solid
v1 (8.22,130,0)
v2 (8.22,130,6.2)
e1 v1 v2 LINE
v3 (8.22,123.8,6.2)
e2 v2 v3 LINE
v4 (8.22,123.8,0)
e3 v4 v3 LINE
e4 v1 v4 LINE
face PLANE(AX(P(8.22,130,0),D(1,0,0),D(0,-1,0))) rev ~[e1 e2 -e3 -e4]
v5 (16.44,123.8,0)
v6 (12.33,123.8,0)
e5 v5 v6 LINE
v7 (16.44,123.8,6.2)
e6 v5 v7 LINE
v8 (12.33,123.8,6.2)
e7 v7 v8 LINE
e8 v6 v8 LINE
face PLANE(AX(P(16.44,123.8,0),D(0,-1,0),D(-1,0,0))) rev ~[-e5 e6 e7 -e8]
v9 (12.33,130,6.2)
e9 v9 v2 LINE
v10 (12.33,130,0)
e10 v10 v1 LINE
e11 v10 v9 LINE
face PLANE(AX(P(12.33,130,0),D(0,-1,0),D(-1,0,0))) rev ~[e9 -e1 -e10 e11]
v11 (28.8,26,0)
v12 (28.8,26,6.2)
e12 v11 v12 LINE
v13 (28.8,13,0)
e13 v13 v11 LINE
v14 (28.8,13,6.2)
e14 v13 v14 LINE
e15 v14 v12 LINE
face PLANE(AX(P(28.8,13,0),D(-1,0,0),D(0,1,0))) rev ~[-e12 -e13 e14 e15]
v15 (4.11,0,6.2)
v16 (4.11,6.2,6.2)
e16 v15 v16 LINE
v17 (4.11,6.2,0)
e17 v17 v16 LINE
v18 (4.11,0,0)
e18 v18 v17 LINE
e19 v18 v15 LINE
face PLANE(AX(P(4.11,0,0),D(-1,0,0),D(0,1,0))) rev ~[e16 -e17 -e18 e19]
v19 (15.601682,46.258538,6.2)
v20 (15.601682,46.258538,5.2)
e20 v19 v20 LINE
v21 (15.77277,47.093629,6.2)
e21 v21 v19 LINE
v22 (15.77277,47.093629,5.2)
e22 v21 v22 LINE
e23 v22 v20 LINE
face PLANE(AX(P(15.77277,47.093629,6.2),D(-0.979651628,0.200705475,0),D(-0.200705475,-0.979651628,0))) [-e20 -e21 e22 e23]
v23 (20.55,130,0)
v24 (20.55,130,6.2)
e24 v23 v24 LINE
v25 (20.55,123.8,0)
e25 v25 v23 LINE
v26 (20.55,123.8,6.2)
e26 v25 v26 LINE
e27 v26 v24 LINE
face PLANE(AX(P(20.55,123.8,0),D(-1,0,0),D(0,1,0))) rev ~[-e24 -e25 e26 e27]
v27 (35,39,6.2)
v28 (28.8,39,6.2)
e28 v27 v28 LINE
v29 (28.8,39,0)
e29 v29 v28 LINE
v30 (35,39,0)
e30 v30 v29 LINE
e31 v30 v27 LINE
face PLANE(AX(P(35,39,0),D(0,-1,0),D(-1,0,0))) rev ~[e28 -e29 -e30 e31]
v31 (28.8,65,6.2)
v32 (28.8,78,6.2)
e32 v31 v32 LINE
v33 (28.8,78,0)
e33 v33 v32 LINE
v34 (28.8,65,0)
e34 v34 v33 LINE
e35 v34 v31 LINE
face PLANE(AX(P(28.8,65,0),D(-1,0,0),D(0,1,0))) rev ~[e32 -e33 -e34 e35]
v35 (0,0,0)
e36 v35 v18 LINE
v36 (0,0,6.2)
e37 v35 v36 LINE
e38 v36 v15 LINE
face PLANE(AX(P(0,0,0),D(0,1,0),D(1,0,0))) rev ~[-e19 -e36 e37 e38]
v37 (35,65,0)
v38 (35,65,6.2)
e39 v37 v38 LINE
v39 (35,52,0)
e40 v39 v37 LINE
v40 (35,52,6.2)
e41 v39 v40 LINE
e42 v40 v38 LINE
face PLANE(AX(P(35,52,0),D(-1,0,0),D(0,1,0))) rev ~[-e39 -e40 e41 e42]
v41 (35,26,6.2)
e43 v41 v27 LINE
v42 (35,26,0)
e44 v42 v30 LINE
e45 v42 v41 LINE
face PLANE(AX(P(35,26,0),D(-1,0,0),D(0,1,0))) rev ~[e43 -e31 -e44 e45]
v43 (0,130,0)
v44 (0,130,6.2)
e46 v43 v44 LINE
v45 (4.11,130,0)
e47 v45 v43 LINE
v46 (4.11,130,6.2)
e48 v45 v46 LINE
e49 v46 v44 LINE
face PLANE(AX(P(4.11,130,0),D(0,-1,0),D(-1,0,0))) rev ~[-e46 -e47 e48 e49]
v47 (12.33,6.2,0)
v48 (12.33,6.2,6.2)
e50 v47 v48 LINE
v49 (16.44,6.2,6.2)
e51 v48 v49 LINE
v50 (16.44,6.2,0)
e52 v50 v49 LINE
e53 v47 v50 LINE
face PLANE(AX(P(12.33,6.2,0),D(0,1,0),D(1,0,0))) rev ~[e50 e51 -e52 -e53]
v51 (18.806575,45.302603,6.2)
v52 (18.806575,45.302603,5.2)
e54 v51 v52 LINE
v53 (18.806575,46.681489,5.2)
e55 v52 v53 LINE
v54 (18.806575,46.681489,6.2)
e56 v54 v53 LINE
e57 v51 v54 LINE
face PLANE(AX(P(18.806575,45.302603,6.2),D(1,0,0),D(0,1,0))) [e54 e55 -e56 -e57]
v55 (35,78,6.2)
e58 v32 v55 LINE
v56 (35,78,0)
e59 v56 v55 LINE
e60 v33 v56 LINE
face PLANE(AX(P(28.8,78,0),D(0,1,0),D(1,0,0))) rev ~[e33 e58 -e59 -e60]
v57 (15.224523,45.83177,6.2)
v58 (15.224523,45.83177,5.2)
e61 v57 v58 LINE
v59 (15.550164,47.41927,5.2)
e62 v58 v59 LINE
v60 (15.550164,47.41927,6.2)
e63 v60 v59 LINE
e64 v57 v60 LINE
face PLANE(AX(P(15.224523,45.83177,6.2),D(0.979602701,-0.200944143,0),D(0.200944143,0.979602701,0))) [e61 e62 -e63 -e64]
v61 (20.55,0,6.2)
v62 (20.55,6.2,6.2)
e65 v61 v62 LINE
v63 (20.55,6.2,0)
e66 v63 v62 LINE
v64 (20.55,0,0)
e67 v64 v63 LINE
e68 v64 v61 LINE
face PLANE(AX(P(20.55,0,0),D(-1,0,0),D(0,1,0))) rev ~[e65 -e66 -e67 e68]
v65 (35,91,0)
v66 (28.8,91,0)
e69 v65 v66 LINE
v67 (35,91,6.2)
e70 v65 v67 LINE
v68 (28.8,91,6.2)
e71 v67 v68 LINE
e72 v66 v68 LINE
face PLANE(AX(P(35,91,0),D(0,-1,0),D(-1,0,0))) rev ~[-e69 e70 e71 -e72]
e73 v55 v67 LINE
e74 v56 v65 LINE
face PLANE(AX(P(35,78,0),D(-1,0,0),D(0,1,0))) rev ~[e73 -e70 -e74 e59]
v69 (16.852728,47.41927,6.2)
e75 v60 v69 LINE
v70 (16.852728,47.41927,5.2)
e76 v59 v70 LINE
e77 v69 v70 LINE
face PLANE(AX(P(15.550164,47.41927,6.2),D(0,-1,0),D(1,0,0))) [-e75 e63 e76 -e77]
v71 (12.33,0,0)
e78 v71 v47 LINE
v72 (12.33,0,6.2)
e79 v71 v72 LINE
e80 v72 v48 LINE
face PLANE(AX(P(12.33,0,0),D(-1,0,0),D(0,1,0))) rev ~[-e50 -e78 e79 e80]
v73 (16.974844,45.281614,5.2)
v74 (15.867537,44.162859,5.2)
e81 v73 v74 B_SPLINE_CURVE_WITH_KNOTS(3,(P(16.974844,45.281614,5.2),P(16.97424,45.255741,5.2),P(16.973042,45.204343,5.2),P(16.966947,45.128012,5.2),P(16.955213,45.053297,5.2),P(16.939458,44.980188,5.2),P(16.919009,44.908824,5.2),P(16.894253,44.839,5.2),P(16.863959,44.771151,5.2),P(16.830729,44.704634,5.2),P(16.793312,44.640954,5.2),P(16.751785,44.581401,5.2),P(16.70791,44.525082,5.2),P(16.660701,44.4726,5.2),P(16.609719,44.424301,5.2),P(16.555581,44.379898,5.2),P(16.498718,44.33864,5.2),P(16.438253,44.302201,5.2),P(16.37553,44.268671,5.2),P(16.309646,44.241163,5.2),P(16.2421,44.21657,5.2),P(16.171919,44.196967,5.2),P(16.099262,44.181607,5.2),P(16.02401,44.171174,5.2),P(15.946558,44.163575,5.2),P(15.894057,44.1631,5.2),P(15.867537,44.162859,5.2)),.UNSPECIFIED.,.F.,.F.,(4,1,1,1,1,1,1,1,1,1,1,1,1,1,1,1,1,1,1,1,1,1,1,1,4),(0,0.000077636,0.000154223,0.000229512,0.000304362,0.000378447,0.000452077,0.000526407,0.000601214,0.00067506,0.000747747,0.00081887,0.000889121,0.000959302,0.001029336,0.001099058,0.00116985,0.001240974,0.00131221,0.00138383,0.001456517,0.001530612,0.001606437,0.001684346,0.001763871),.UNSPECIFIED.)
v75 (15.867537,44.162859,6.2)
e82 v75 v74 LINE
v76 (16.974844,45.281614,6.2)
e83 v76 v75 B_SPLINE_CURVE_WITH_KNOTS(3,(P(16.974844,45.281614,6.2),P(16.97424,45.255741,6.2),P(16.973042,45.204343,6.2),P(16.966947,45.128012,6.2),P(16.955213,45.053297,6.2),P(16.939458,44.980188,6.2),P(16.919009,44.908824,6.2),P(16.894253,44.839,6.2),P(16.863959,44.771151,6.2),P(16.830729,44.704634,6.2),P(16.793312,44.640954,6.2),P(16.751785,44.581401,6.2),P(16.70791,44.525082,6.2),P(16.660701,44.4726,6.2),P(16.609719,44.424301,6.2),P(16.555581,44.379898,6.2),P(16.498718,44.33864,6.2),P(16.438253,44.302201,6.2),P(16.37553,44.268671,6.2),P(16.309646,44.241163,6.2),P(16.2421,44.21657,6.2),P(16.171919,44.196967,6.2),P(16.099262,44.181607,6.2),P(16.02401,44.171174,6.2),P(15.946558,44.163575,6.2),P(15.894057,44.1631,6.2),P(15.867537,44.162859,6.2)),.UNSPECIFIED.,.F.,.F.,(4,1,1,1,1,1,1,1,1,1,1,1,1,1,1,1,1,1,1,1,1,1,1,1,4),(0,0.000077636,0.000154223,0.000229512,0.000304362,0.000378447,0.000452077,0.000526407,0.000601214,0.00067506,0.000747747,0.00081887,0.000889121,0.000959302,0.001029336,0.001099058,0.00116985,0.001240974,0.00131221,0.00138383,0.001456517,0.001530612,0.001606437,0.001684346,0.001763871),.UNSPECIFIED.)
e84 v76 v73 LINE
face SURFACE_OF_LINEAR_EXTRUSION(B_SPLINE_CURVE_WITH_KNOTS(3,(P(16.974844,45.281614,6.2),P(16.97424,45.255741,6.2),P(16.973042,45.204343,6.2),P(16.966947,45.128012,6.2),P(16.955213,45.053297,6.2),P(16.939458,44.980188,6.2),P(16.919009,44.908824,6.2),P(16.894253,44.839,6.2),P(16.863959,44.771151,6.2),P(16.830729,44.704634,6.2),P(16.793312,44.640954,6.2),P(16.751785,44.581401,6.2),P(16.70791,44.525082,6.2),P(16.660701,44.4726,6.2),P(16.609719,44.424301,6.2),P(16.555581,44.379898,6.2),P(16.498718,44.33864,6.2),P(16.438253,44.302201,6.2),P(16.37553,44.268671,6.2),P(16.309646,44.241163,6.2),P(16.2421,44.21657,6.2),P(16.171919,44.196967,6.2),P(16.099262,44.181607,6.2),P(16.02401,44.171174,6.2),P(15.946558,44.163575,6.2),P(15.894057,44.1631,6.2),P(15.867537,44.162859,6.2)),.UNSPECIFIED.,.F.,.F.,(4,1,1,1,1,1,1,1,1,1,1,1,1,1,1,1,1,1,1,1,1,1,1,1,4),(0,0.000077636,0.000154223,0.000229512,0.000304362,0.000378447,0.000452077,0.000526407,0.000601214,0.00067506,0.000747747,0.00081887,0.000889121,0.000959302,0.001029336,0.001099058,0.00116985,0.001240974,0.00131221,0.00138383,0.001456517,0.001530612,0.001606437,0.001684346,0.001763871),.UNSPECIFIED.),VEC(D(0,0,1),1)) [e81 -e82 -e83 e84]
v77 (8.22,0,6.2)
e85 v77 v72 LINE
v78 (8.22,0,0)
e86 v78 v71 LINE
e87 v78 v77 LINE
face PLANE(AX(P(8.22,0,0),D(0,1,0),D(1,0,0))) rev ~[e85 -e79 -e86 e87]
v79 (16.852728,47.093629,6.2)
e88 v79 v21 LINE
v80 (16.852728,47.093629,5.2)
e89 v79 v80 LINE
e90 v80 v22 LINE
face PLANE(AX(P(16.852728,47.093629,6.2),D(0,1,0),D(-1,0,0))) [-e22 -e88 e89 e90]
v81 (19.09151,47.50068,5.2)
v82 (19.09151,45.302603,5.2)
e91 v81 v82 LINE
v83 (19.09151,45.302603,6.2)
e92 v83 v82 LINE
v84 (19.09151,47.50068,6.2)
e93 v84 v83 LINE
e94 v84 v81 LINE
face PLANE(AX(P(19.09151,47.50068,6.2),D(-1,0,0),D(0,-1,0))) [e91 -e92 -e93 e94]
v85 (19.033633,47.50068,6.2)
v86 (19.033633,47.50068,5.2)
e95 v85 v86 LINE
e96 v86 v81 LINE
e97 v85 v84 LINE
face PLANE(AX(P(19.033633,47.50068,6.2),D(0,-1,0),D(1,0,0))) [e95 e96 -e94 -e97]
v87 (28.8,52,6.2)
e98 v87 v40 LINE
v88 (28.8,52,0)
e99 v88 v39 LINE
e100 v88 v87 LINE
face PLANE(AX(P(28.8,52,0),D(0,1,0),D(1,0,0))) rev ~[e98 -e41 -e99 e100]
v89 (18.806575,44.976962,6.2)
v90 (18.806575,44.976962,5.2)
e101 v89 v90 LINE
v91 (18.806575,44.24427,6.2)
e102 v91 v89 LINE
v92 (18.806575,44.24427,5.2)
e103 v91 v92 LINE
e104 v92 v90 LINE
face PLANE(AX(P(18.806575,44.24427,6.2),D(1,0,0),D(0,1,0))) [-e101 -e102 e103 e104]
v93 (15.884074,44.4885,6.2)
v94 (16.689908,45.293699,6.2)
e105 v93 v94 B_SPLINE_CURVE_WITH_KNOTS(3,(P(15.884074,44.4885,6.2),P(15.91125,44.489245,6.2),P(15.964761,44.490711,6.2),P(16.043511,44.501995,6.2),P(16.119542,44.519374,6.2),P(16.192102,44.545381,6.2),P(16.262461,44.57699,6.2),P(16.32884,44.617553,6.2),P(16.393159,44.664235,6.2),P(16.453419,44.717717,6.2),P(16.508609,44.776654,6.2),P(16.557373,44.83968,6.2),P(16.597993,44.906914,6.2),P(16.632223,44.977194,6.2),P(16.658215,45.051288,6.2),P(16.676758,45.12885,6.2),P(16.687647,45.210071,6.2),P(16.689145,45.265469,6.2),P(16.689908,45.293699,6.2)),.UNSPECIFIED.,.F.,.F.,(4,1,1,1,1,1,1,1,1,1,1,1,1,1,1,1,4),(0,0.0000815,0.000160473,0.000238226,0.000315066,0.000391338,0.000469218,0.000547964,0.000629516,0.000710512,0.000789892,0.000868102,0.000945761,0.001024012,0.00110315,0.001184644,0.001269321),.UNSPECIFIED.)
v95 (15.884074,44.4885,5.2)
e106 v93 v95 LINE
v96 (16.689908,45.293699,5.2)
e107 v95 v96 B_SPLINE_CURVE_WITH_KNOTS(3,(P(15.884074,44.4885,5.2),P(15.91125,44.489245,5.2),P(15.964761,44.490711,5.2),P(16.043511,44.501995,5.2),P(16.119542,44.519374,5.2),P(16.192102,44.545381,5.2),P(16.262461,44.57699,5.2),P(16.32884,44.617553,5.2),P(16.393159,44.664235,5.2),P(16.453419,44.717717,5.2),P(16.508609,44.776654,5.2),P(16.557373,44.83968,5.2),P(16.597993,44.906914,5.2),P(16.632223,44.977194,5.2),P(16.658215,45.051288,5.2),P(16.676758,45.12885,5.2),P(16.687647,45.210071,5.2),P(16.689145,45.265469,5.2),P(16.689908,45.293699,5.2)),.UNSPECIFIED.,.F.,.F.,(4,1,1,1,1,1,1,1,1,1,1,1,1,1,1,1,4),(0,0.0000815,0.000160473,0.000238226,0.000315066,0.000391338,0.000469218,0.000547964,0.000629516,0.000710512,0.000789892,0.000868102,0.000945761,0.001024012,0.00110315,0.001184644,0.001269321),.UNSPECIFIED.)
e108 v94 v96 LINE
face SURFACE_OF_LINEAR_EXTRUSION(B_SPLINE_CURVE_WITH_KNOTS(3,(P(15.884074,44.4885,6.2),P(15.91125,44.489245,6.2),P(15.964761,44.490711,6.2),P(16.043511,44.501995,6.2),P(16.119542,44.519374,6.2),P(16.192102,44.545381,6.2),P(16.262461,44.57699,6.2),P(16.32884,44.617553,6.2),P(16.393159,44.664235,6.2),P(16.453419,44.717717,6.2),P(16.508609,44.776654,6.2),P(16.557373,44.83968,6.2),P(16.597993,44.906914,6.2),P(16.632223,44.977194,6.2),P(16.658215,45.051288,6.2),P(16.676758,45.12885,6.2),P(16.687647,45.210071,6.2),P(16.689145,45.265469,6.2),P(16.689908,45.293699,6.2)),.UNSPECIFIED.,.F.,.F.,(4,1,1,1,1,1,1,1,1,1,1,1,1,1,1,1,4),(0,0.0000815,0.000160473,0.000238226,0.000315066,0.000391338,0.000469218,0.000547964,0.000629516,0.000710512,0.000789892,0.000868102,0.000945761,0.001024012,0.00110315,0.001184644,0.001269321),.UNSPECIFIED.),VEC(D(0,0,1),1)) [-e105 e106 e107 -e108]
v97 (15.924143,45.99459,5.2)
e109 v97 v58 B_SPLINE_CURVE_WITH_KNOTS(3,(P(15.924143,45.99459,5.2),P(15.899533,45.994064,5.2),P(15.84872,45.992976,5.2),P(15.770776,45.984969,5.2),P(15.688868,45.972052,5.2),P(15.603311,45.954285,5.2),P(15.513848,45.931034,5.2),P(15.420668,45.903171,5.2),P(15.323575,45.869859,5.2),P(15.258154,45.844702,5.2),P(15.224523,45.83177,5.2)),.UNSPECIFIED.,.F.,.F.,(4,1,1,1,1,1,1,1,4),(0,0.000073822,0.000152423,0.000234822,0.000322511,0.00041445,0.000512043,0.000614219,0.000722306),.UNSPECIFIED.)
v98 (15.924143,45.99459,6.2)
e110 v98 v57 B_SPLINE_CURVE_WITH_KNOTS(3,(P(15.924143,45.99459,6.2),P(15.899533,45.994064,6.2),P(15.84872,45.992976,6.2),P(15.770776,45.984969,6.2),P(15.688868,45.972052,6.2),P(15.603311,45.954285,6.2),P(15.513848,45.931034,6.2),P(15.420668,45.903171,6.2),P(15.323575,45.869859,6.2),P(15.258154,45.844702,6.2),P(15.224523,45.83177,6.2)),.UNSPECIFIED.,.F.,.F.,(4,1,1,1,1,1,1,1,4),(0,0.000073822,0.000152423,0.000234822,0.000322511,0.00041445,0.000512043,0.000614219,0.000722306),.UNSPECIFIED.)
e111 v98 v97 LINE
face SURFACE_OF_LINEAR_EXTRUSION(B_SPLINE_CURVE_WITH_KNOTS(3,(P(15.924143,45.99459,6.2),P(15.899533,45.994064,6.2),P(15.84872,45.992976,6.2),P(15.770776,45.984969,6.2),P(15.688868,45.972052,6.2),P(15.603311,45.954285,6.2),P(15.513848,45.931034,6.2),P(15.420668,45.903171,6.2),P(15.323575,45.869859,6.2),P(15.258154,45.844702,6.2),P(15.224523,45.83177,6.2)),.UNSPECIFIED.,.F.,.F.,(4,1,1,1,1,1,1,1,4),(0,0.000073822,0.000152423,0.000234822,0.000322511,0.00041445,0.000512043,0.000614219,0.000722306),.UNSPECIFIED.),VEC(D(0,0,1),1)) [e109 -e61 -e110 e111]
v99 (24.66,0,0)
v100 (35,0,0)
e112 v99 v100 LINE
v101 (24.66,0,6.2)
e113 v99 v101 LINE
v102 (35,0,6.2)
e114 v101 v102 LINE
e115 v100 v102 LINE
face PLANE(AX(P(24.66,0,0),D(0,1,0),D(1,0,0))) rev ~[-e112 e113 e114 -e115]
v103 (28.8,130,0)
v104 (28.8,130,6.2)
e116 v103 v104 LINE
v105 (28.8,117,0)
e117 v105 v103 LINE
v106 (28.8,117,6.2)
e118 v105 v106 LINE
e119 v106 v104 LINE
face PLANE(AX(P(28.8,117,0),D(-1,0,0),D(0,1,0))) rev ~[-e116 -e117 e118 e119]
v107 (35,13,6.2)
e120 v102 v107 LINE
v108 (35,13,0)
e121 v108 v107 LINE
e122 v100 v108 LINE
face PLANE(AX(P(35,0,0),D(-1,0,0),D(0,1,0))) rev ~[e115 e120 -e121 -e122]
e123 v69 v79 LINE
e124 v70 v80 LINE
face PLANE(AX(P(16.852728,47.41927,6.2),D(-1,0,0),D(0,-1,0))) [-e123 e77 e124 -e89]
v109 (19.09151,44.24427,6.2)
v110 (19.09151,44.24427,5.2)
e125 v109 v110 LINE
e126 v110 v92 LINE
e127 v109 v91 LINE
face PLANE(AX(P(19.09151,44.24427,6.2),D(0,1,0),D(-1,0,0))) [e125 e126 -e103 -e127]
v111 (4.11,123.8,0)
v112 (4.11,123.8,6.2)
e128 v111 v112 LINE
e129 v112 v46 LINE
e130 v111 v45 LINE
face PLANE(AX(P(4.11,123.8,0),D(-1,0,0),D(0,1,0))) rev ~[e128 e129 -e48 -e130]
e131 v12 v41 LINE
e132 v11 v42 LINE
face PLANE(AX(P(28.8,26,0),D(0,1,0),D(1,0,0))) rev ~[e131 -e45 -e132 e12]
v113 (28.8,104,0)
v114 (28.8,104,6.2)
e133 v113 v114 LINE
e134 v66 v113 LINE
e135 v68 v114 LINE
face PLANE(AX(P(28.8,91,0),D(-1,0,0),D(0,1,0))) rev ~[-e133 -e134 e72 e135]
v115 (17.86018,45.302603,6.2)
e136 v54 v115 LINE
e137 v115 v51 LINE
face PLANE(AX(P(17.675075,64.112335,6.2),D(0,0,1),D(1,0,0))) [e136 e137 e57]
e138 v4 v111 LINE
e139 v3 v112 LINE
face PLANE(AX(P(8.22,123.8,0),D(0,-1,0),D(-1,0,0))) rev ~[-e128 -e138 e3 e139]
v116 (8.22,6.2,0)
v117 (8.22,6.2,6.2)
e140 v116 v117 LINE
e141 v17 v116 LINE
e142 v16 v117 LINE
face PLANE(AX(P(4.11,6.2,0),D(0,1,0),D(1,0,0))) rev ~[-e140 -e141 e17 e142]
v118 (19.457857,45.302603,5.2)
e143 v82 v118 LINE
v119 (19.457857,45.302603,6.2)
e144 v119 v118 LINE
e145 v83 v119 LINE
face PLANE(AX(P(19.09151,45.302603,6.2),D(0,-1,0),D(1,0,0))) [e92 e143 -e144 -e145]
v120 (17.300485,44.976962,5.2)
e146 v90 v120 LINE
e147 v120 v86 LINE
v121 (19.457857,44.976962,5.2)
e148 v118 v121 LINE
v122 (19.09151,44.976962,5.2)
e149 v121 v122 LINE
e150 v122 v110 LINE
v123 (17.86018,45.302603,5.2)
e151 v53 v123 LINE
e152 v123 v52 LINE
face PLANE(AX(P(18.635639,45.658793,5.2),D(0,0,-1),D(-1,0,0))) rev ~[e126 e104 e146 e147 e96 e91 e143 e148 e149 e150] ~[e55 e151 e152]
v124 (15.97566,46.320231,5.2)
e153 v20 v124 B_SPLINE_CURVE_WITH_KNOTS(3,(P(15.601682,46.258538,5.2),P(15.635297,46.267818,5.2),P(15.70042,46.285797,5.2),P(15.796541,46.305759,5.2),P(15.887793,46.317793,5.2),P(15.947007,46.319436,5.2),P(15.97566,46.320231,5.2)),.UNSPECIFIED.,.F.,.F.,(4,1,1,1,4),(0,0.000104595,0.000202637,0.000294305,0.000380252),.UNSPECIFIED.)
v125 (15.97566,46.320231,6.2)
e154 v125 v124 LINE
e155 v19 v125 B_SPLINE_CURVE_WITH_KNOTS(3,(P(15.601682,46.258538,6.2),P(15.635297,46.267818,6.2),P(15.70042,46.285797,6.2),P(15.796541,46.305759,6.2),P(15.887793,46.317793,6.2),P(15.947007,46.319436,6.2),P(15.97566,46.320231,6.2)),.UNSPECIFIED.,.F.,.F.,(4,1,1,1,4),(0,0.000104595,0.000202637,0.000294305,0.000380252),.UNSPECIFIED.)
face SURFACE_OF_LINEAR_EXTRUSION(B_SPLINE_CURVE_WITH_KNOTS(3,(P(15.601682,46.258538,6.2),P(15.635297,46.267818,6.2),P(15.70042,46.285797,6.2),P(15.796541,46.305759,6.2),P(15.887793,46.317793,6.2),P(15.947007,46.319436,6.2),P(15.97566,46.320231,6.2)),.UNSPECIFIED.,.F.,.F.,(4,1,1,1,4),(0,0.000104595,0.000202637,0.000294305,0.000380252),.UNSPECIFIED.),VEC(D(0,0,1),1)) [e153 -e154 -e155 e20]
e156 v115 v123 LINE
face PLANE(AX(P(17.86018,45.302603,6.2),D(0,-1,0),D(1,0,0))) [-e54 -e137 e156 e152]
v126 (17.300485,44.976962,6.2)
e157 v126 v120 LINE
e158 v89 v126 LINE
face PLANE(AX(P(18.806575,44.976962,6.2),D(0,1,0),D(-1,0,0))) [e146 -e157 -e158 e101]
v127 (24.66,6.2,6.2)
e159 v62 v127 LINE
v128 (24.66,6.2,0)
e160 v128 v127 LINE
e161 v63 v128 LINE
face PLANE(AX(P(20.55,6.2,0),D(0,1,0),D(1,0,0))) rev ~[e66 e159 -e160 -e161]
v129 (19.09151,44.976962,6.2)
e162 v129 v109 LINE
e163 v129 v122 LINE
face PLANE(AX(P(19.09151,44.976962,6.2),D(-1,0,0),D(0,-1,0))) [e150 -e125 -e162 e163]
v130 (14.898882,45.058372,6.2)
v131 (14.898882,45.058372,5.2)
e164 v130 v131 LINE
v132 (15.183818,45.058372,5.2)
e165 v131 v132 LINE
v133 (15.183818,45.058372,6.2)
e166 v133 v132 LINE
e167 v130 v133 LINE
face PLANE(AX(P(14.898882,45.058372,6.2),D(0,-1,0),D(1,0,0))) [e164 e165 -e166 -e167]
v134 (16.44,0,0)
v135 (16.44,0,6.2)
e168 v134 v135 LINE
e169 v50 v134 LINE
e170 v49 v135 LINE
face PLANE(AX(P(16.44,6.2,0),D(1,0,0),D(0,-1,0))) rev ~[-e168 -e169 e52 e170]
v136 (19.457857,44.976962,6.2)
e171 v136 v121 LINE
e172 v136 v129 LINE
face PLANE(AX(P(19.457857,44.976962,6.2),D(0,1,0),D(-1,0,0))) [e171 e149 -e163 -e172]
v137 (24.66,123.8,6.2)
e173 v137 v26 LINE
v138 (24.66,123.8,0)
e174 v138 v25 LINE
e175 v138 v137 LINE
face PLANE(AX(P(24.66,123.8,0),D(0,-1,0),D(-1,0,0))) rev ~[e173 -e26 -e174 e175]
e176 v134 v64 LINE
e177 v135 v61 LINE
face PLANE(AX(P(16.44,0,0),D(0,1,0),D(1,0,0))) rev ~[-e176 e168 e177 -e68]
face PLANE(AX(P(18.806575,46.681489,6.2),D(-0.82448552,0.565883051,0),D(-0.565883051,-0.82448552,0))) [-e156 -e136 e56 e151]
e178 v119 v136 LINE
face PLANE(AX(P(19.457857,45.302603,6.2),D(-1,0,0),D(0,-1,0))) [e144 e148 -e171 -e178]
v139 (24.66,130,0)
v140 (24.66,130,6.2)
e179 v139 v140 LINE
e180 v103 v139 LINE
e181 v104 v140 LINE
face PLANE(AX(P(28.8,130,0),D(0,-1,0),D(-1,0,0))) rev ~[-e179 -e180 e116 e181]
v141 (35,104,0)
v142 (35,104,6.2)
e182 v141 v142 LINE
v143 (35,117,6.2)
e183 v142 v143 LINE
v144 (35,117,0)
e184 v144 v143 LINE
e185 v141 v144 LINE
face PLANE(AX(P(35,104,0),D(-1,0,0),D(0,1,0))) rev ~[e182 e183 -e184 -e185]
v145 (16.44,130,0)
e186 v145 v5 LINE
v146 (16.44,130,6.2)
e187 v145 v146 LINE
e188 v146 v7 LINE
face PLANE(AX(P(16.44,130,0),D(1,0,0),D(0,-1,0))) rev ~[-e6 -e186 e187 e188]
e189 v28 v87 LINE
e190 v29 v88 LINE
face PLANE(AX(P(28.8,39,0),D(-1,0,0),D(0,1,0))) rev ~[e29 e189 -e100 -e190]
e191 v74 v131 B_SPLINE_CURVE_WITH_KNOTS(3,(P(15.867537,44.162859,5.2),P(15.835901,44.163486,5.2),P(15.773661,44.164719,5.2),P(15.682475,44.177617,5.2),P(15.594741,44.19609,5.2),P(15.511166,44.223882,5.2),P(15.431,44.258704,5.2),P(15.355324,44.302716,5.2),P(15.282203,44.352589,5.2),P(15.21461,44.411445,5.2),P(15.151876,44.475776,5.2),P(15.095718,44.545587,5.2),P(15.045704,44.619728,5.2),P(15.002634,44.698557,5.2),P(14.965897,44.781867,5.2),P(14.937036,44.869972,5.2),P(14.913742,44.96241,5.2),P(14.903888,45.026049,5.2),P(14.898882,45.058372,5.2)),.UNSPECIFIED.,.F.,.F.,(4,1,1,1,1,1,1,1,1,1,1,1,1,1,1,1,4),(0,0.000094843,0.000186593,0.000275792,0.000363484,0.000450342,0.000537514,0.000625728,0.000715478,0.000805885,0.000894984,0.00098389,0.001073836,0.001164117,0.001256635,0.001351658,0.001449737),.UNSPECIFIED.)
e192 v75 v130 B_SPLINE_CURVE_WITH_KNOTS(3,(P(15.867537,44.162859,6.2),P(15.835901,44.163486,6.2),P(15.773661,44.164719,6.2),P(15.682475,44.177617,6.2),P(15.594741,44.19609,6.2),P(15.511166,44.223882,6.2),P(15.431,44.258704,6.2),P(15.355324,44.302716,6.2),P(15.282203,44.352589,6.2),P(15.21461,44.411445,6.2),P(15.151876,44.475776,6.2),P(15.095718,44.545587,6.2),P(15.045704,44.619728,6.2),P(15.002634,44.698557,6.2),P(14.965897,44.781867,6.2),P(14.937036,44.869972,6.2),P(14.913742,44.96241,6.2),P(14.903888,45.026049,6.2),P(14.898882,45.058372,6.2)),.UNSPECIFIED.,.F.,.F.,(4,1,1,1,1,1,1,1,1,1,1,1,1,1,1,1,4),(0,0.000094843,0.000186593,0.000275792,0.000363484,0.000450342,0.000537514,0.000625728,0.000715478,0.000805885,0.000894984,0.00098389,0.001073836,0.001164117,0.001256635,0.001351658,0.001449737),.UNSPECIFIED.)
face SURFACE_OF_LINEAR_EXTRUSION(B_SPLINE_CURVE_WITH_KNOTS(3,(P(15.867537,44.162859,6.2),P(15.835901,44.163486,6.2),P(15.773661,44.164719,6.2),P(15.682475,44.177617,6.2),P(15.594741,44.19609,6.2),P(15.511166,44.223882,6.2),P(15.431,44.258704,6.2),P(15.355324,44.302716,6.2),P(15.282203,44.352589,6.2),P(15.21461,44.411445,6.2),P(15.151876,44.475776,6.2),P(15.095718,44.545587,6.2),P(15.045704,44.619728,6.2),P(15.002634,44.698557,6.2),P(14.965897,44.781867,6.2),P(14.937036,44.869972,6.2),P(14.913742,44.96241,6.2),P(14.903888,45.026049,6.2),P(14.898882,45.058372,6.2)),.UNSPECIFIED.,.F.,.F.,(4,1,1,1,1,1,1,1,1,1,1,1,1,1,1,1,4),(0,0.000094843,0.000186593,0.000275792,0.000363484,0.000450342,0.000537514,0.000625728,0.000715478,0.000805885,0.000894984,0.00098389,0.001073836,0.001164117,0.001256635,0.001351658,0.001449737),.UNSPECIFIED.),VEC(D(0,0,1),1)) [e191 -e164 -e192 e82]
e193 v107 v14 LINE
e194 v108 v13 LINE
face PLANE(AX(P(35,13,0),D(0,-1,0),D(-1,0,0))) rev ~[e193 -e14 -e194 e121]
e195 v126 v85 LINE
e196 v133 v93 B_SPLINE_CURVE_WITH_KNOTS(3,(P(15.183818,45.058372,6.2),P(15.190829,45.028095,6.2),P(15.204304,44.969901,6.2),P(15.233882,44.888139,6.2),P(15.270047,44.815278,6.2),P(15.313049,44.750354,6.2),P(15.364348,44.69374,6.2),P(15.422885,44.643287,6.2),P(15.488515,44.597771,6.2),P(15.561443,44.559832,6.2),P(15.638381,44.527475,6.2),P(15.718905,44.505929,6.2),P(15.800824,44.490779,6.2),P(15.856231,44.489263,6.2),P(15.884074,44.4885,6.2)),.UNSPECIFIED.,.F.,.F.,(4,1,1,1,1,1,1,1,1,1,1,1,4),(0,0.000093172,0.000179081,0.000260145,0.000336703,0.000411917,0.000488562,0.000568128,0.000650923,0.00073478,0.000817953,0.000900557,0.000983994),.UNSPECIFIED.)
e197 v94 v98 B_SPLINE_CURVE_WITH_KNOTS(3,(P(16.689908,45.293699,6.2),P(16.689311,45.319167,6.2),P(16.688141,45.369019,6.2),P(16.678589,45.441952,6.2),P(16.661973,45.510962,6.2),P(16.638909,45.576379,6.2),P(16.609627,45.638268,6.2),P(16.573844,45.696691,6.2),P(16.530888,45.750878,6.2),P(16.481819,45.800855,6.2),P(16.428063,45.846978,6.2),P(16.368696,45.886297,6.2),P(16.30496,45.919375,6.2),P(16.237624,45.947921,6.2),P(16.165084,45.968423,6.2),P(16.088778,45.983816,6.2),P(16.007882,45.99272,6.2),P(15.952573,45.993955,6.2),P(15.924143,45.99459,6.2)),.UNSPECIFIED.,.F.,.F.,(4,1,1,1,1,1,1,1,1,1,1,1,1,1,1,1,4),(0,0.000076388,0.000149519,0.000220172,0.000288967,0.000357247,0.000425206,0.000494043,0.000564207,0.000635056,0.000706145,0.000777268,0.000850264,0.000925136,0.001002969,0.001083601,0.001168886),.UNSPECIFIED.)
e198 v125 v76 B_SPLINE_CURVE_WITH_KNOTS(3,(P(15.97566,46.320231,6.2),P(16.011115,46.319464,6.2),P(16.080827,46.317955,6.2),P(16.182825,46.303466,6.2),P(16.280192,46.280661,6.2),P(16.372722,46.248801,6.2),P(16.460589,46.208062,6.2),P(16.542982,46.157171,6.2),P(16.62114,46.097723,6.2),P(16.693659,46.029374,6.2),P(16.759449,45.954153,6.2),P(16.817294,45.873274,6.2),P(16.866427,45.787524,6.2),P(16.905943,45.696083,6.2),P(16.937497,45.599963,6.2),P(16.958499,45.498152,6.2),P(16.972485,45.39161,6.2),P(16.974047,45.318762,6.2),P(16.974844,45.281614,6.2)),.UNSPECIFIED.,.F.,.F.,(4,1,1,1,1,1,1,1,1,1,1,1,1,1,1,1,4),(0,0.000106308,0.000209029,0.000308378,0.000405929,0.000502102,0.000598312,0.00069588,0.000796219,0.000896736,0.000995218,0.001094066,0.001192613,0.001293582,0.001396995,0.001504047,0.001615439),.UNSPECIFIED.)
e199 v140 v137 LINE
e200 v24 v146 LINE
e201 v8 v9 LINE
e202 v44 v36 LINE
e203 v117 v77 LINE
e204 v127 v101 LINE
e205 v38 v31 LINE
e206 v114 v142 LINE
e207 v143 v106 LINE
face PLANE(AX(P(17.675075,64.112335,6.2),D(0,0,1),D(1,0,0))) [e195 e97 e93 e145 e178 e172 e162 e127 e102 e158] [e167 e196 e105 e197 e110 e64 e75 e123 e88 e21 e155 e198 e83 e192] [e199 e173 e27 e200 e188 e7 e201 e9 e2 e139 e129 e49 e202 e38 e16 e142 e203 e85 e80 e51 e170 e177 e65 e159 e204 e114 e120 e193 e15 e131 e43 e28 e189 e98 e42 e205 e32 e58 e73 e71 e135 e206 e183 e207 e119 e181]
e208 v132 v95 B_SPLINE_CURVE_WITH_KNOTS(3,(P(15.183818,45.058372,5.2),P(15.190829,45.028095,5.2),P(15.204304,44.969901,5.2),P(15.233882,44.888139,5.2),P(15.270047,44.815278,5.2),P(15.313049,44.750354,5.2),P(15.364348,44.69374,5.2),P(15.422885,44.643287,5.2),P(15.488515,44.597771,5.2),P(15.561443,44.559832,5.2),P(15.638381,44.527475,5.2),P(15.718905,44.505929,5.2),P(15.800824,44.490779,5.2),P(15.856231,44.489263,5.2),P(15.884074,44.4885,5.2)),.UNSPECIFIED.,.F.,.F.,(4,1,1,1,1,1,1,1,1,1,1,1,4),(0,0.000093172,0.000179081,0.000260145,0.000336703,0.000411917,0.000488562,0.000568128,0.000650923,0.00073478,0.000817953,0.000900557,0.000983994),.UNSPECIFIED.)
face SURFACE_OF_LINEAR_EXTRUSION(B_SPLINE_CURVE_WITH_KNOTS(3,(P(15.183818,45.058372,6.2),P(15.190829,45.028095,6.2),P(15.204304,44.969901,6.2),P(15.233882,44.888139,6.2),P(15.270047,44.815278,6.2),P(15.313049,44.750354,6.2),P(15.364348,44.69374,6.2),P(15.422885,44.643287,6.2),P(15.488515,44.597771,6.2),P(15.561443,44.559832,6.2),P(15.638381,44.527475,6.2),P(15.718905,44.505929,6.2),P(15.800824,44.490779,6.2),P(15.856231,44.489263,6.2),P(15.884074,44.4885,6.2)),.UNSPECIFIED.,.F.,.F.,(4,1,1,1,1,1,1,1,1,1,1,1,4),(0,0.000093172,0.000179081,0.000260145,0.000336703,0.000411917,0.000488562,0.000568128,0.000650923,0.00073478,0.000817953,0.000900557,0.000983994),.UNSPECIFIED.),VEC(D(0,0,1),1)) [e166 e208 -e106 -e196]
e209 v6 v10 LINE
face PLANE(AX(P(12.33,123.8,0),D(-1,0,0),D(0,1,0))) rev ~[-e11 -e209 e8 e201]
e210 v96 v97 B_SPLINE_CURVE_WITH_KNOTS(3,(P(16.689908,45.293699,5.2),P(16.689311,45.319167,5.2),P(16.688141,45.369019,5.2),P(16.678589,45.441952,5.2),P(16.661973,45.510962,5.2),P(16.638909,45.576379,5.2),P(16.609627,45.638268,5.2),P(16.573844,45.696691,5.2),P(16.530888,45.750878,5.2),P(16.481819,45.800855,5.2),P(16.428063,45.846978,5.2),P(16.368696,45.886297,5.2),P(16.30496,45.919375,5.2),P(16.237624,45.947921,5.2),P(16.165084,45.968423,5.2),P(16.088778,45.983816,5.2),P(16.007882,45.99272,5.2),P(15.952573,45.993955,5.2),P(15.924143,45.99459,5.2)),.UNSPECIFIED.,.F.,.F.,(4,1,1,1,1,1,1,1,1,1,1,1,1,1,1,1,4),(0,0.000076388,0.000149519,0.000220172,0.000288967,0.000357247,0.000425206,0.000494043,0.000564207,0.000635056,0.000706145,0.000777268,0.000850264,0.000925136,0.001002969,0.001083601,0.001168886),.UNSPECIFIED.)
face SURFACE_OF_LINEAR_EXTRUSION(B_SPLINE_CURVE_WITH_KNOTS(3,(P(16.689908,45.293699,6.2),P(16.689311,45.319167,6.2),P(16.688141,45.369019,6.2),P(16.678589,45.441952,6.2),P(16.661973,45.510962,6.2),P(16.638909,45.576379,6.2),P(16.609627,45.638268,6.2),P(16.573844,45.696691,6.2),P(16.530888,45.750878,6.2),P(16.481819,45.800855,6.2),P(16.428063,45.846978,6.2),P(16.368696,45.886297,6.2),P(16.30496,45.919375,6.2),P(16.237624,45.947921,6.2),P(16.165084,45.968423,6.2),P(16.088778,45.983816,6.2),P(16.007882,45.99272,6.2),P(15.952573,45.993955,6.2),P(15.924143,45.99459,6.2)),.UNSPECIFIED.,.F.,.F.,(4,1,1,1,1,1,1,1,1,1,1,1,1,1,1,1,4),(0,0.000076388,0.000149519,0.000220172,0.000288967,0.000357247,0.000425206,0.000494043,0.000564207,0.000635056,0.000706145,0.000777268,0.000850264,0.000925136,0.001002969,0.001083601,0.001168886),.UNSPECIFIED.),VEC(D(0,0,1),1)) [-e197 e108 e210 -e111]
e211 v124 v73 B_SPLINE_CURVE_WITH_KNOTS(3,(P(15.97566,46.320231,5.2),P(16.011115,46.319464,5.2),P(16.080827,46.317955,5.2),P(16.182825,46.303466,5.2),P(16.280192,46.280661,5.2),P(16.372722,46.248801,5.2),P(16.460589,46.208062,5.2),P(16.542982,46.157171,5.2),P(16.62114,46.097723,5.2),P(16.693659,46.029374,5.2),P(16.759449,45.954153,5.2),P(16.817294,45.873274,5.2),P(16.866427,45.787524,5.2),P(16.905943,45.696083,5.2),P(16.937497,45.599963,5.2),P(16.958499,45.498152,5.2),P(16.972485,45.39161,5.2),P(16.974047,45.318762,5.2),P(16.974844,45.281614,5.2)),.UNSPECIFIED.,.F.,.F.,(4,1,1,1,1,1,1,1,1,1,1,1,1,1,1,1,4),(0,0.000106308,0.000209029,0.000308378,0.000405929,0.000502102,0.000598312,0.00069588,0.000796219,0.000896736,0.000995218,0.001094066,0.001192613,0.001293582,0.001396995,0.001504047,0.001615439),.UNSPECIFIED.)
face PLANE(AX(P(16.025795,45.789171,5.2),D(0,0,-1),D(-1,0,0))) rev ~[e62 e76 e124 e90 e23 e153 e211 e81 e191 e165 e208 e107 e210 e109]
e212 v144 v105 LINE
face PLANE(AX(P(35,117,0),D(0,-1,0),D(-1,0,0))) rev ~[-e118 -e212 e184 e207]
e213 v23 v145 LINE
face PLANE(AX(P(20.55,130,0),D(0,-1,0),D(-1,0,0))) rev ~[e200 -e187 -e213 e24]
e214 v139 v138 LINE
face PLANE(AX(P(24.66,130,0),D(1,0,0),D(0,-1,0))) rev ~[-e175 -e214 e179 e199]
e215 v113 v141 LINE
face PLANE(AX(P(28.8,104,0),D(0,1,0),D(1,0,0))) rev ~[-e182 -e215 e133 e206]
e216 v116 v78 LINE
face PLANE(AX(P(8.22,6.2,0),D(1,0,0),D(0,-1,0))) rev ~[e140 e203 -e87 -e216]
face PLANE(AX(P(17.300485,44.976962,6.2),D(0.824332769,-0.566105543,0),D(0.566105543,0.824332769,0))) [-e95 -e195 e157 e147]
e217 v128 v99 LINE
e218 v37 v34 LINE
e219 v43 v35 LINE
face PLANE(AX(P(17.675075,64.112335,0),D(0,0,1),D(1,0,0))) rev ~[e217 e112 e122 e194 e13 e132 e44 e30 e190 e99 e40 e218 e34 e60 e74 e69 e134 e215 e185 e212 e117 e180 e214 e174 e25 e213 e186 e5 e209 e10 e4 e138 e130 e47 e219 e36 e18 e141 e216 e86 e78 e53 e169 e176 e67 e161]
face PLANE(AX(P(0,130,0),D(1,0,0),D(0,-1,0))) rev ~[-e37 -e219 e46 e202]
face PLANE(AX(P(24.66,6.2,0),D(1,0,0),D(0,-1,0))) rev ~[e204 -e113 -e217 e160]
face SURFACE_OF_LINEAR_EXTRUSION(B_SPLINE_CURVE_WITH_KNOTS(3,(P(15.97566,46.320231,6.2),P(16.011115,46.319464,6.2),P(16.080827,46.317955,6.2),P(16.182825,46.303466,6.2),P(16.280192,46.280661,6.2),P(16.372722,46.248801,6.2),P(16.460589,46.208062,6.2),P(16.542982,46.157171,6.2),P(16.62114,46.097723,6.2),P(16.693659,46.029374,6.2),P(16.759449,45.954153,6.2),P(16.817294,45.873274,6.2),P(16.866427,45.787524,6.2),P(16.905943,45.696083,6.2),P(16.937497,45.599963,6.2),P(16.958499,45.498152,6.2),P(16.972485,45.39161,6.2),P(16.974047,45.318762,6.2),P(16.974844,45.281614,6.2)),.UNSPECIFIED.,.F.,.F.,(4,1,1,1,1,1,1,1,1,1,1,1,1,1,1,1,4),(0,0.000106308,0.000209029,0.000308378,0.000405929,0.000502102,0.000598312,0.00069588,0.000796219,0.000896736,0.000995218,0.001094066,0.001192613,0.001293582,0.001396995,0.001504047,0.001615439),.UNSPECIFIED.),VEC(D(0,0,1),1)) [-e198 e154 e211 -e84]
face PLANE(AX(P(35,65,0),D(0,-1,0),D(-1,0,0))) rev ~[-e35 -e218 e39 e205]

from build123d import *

# Parameters (mm, degrees)
BOSS_EXTRUDE7_DEPTH = 6.2
CUT_EXTRUDE10_DEPTH = 1


with BuildPart() as part:
    # Sketch1 → Boss-Extrude7 (new body)
    with BuildSketch(Plane.XY):
        Polygon((4.11, 130), (0, 130), (0, 0), (4.11, 0), (4.11, 6.2), (8.22, 6.2), (8.22, 0), (12.33, 0), (12.33, 6.2), (16.44, 6.2), (16.44, 0), (20.55, 0), (20.55, 6.2), (24.66, 6.2), (24.66, 0), (35, 0), (35, 13), (28.8, 13), (28.8, 26), (35, 26), (35, 39), (28.8, 39), (28.8, 52), (35, 52), (35, 65), (28.8, 65), (28.8, 78), (35, 78), (35, 91), (28.8, 91), (28.8, 104), (35, 104), (35, 117), (28.8, 117), (28.8, 130), (24.66, 130), (24.66, 123.8), (20.55, 123.8), (20.55, 130), (16.44, 130), (16.44, 123.8), (12.33, 123.8), (12.33, 130), (8.22, 130), (8.22, 123.8), (4.11, 123.8), align=None)
    extrude(amount=BOSS_EXTRUDE7_DEPTH)

    # Sketch7 → Cut-Extrude10 (cut)
    with BuildSketch(Plane.XY.offset(6.2)):
        with BuildLine():
            Line((16.852728424, 47.419269681), (16.852728424, 47.093628655))
            Line((16.852728424, 47.093628655), (15.772770491, 47.093628655))
            Line((15.772770491, 47.093628655), (15.601681749, 46.25853751))
            add(Edge.make_bspline(
                [(15.601681749, 46.25853751), (15.635296721, 46.267817828), (15.700420412, 46.285796976), (15.796541143, 46.305759353), (15.887792642, 46.317793006), (15.947006728, 46.319436124), (15.975660115, 46.32023122)],
                knots=[0, 0, 0, 0, 0.000104595, 0.000202637, 0.000294305, 0.000380252, 0.000380252, 0.000380252, 0.000380252], degree=3))
            add(Edge.make_bspline(
                [(15.975660115, 46.32023122), (16.01111465, 46.319463835), (16.080827125, 46.317954965), (16.182825312, 46.303466216), (16.28019158, 46.280660722), (16.372722301, 46.248801392), (16.460588658, 46.208061848), (16.542982232, 46.157171188), (16.621139767, 46.097723095), (16.69365912, 46.029374405), (16.759449028, 45.954152653), (16.81729389, 45.873273727), (16.866427097, 45.787523633), (16.905942925, 45.696083081), (16.937497285, 45.599962992), (16.958499452, 45.498152006), (16.972484609, 45.391609783), (16.97404706, 45.318762066), (16.974843809, 45.281614433)],
                knots=[0, 0, 0, 0, 0.000106308, 0.000209029, 0.000308378, 0.000405929, 0.000502102, 0.000598312, 0.00069588, 0.000796219, 0.000896736, 0.000995218, 0.001094066, 0.001192613, 0.001293582, 0.001396995, 0.001504047, 0.001615439, 0.001615439, 0.001615439, 0.001615439], degree=3))
            add(Edge.make_bspline(
                [(16.974843809, 45.281614433), (16.97424049, 45.255740704), (16.973042007, 45.204342908), (16.966947288, 45.128012098), (16.955212746, 45.053297242), (16.939457739, 44.980188429), (16.919008546, 44.90882407), (16.894253475, 44.838999899), (16.863958507, 44.771150505), (16.830728617, 44.704633897), (16.793312169, 44.640953823), (16.751784523, 44.581400813), (16.707910113, 44.525081501), (16.660701142, 44.4725999), (16.609718811, 44.424300877), (16.555580555, 44.379897793), (16.498718374, 44.338639729), (16.438252547, 44.302201438), (16.375530438, 44.268670756), (16.309646269, 44.241162976), (16.242099777, 44.216569854), (16.171918783, 44.196966925), (16.099262253, 44.181606679), (16.024010421, 44.171173992), (15.946557956, 44.163575366), (15.894057051, 44.1630997), (15.867537118, 44.162859425)],
                knots=[0, 0, 0, 0, 7.7636e-05, 0.000154223, 0.000229512, 0.000304362, 0.000378447, 0.000452077, 0.000526407, 0.000601214, 0.00067506, 0.000747747, 0.00081887, 0.000889121, 0.000959302, 0.001029336, 0.001099058, 0.00116985, 0.001240974, 0.00131221, 0.00138383, 0.001456517, 0.001530612, 0.001606437, 0.001684346, 0.001763871, 0.001763871, 0.001763871, 0.001763871], degree=3))
            add(Edge.make_bspline(
                [(15.867537118, 44.162859425), (15.835901254, 44.163486113), (15.773661429, 44.164719049), (15.682474915, 44.177617247), (15.594740951, 44.196090228), (15.511165788, 44.223881701), (15.431000427, 44.258704462), (15.355324104, 44.30271556), (15.28220315, 44.352589461), (15.214610088, 44.41144521), (15.151875614, 44.475775865), (15.095717567, 44.545587439), (15.045703536, 44.619727719), (15.002634437, 44.698556758), (14.965896947, 44.781867426), (14.937036207, 44.869971862), (14.913742271, 44.962409723), (14.903887597, 45.026048979), (14.89888227, 45.058372245)],
                knots=[0, 0, 0, 0, 9.4843e-05, 0.000186593, 0.000275792, 0.000363484, 0.000450342, 0.000537514, 0.000625728, 0.000715478, 0.000805885, 0.000894984, 0.00098389, 0.001073836, 0.001164117, 0.001256635, 0.001351658, 0.001449737, 0.001449737, 0.001449737, 0.001449737], degree=3))
            Line((14.89888227, 45.058372245), (15.183818168, 45.058372245))
            add(Edge.make_bspline(
                [(15.183818168, 45.058372245), (15.190829073, 45.028095035), (15.204304423, 44.969900555), (15.233882495, 44.888138553), (15.270046539, 44.815277543), (15.313049055, 44.750353706), (15.364348012, 44.69373983), (15.422885422, 44.64328721), (15.488515143, 44.5977712), (15.561443286, 44.559831975), (15.638380866, 44.52747532), (15.718905406, 44.50592914), (15.800824349, 44.490779044), (15.856231156, 44.489262518), (15.884073576, 44.48850045)],
                knots=[0, 0, 0, 0, 9.3172e-05, 0.000179081, 0.000260145, 0.000336703, 0.000411917, 0.000488562, 0.000568128, 0.000650923, 0.00073478, 0.000817953, 0.000900557, 0.000983994, 0.000983994, 0.000983994, 0.000983994], degree=3))
            add(Edge.make_bspline(
                [(15.884073576, 44.48850045), (15.911250165, 44.489245013), (15.964761091, 44.490711063), (16.04351142, 44.501995024), (16.11954167, 44.519373678), (16.19210163, 44.545381332), (16.262461026, 44.57699047), (16.32884009, 44.617553432), (16.393159128, 44.66423502), (16.453418935, 44.717717106), (16.508609007, 44.7766539), (16.557373488, 44.839679821), (16.597992545, 44.906914389), (16.632222773, 44.977193606), (16.658215408, 45.051287726), (16.676758298, 45.128849506), (16.687646787, 45.210070524), (16.689144643, 45.265469112), (16.689907911, 45.293698768)],
                knots=[0, 0, 0, 0, 8.15e-05, 0.000160473, 0.000238226, 0.000315066, 0.000391338, 0.000469218, 0.000547964, 0.000629516, 0.000710512, 0.000789892, 0.000868102, 0.000945761, 0.001024012, 0.00110315, 0.001184644, 0.001269321, 0.001269321, 0.001269321, 0.001269321], degree=3))
            add(Edge.make_bspline(
                [(16.689907911, 45.293698768), (16.689310576, 45.319167485), (16.688141378, 45.369018876), (16.678588646, 45.441952442), (16.661972536, 45.510961559), (16.638909445, 45.576379471), (16.60962732, 45.638267879), (16.573843879, 45.696690655), (16.530887583, 45.750877776), (16.481818512, 45.800854592), (16.428063004, 45.846978157), (16.36869618, 45.886297436), (16.304960389, 45.919375418), (16.237623538, 45.947921388), (16.165083952, 45.968423493), (16.08877815, 45.983815789), (16.007882136, 45.992719725), (15.952573012, 45.993955152), (15.924142687, 45.994590194)],
                knots=[0, 0, 0, 0, 7.6388e-05, 0.000149519, 0.000220172, 0.000288967, 0.000357247, 0.000425206, 0.000494043, 0.000564207, 0.000635056, 0.000706145, 0.000777268, 0.000850264, 0.000925136, 0.001002969, 0.001083601, 0.001168886, 0.001168886, 0.001168886, 0.001168886], degree=3))
            add(Edge.make_bspline(
                [(15.924142687, 45.994590194), (15.899532873, 45.994063515), (15.84871985, 45.992976056), (15.770775572, 45.984969162), (15.68886808, 45.972052088), (15.603311359, 45.954284564), (15.51384847, 45.931033516), (15.420668206, 45.903171076), (15.32357465, 45.869858977), (15.258153572, 45.844701897), (15.224523296, 45.831769681)],
                knots=[0, 0, 0, 0, 7.3822e-05, 0.000152423, 0.000234822, 0.000322511, 0.00041445, 0.000512043, 0.000614219, 0.000722306, 0.000722306, 0.000722306, 0.000722306], degree=3))
            Line((15.224523296, 45.831769681), (15.550164321, 47.419269681))
            Line((15.550164321, 47.419269681), (16.852728424, 47.419269681))
        make_face()
        Polygon((19.033632871, 47.500679937), (19.091510475, 47.500679937), (19.091510475, 45.302603014), (19.457856629, 45.302603014), (19.457856629, 44.976961989), (19.091510475, 44.976961989), (19.091510475, 44.244269681), (18.806574578, 44.244269681), (18.806574578, 44.976961989), (17.300484834, 44.976961989), align=None)
        Polygon((18.806574578, 45.302603014), (18.806574578, 46.681489232), (17.860180347, 45.302603014), align=None, mode=Mode.SUBTRACT)
    extrude(amount=-CUT_EXTRUDE10_DEPTH, mode=Mode.SUBTRACT)


solid = part.part
